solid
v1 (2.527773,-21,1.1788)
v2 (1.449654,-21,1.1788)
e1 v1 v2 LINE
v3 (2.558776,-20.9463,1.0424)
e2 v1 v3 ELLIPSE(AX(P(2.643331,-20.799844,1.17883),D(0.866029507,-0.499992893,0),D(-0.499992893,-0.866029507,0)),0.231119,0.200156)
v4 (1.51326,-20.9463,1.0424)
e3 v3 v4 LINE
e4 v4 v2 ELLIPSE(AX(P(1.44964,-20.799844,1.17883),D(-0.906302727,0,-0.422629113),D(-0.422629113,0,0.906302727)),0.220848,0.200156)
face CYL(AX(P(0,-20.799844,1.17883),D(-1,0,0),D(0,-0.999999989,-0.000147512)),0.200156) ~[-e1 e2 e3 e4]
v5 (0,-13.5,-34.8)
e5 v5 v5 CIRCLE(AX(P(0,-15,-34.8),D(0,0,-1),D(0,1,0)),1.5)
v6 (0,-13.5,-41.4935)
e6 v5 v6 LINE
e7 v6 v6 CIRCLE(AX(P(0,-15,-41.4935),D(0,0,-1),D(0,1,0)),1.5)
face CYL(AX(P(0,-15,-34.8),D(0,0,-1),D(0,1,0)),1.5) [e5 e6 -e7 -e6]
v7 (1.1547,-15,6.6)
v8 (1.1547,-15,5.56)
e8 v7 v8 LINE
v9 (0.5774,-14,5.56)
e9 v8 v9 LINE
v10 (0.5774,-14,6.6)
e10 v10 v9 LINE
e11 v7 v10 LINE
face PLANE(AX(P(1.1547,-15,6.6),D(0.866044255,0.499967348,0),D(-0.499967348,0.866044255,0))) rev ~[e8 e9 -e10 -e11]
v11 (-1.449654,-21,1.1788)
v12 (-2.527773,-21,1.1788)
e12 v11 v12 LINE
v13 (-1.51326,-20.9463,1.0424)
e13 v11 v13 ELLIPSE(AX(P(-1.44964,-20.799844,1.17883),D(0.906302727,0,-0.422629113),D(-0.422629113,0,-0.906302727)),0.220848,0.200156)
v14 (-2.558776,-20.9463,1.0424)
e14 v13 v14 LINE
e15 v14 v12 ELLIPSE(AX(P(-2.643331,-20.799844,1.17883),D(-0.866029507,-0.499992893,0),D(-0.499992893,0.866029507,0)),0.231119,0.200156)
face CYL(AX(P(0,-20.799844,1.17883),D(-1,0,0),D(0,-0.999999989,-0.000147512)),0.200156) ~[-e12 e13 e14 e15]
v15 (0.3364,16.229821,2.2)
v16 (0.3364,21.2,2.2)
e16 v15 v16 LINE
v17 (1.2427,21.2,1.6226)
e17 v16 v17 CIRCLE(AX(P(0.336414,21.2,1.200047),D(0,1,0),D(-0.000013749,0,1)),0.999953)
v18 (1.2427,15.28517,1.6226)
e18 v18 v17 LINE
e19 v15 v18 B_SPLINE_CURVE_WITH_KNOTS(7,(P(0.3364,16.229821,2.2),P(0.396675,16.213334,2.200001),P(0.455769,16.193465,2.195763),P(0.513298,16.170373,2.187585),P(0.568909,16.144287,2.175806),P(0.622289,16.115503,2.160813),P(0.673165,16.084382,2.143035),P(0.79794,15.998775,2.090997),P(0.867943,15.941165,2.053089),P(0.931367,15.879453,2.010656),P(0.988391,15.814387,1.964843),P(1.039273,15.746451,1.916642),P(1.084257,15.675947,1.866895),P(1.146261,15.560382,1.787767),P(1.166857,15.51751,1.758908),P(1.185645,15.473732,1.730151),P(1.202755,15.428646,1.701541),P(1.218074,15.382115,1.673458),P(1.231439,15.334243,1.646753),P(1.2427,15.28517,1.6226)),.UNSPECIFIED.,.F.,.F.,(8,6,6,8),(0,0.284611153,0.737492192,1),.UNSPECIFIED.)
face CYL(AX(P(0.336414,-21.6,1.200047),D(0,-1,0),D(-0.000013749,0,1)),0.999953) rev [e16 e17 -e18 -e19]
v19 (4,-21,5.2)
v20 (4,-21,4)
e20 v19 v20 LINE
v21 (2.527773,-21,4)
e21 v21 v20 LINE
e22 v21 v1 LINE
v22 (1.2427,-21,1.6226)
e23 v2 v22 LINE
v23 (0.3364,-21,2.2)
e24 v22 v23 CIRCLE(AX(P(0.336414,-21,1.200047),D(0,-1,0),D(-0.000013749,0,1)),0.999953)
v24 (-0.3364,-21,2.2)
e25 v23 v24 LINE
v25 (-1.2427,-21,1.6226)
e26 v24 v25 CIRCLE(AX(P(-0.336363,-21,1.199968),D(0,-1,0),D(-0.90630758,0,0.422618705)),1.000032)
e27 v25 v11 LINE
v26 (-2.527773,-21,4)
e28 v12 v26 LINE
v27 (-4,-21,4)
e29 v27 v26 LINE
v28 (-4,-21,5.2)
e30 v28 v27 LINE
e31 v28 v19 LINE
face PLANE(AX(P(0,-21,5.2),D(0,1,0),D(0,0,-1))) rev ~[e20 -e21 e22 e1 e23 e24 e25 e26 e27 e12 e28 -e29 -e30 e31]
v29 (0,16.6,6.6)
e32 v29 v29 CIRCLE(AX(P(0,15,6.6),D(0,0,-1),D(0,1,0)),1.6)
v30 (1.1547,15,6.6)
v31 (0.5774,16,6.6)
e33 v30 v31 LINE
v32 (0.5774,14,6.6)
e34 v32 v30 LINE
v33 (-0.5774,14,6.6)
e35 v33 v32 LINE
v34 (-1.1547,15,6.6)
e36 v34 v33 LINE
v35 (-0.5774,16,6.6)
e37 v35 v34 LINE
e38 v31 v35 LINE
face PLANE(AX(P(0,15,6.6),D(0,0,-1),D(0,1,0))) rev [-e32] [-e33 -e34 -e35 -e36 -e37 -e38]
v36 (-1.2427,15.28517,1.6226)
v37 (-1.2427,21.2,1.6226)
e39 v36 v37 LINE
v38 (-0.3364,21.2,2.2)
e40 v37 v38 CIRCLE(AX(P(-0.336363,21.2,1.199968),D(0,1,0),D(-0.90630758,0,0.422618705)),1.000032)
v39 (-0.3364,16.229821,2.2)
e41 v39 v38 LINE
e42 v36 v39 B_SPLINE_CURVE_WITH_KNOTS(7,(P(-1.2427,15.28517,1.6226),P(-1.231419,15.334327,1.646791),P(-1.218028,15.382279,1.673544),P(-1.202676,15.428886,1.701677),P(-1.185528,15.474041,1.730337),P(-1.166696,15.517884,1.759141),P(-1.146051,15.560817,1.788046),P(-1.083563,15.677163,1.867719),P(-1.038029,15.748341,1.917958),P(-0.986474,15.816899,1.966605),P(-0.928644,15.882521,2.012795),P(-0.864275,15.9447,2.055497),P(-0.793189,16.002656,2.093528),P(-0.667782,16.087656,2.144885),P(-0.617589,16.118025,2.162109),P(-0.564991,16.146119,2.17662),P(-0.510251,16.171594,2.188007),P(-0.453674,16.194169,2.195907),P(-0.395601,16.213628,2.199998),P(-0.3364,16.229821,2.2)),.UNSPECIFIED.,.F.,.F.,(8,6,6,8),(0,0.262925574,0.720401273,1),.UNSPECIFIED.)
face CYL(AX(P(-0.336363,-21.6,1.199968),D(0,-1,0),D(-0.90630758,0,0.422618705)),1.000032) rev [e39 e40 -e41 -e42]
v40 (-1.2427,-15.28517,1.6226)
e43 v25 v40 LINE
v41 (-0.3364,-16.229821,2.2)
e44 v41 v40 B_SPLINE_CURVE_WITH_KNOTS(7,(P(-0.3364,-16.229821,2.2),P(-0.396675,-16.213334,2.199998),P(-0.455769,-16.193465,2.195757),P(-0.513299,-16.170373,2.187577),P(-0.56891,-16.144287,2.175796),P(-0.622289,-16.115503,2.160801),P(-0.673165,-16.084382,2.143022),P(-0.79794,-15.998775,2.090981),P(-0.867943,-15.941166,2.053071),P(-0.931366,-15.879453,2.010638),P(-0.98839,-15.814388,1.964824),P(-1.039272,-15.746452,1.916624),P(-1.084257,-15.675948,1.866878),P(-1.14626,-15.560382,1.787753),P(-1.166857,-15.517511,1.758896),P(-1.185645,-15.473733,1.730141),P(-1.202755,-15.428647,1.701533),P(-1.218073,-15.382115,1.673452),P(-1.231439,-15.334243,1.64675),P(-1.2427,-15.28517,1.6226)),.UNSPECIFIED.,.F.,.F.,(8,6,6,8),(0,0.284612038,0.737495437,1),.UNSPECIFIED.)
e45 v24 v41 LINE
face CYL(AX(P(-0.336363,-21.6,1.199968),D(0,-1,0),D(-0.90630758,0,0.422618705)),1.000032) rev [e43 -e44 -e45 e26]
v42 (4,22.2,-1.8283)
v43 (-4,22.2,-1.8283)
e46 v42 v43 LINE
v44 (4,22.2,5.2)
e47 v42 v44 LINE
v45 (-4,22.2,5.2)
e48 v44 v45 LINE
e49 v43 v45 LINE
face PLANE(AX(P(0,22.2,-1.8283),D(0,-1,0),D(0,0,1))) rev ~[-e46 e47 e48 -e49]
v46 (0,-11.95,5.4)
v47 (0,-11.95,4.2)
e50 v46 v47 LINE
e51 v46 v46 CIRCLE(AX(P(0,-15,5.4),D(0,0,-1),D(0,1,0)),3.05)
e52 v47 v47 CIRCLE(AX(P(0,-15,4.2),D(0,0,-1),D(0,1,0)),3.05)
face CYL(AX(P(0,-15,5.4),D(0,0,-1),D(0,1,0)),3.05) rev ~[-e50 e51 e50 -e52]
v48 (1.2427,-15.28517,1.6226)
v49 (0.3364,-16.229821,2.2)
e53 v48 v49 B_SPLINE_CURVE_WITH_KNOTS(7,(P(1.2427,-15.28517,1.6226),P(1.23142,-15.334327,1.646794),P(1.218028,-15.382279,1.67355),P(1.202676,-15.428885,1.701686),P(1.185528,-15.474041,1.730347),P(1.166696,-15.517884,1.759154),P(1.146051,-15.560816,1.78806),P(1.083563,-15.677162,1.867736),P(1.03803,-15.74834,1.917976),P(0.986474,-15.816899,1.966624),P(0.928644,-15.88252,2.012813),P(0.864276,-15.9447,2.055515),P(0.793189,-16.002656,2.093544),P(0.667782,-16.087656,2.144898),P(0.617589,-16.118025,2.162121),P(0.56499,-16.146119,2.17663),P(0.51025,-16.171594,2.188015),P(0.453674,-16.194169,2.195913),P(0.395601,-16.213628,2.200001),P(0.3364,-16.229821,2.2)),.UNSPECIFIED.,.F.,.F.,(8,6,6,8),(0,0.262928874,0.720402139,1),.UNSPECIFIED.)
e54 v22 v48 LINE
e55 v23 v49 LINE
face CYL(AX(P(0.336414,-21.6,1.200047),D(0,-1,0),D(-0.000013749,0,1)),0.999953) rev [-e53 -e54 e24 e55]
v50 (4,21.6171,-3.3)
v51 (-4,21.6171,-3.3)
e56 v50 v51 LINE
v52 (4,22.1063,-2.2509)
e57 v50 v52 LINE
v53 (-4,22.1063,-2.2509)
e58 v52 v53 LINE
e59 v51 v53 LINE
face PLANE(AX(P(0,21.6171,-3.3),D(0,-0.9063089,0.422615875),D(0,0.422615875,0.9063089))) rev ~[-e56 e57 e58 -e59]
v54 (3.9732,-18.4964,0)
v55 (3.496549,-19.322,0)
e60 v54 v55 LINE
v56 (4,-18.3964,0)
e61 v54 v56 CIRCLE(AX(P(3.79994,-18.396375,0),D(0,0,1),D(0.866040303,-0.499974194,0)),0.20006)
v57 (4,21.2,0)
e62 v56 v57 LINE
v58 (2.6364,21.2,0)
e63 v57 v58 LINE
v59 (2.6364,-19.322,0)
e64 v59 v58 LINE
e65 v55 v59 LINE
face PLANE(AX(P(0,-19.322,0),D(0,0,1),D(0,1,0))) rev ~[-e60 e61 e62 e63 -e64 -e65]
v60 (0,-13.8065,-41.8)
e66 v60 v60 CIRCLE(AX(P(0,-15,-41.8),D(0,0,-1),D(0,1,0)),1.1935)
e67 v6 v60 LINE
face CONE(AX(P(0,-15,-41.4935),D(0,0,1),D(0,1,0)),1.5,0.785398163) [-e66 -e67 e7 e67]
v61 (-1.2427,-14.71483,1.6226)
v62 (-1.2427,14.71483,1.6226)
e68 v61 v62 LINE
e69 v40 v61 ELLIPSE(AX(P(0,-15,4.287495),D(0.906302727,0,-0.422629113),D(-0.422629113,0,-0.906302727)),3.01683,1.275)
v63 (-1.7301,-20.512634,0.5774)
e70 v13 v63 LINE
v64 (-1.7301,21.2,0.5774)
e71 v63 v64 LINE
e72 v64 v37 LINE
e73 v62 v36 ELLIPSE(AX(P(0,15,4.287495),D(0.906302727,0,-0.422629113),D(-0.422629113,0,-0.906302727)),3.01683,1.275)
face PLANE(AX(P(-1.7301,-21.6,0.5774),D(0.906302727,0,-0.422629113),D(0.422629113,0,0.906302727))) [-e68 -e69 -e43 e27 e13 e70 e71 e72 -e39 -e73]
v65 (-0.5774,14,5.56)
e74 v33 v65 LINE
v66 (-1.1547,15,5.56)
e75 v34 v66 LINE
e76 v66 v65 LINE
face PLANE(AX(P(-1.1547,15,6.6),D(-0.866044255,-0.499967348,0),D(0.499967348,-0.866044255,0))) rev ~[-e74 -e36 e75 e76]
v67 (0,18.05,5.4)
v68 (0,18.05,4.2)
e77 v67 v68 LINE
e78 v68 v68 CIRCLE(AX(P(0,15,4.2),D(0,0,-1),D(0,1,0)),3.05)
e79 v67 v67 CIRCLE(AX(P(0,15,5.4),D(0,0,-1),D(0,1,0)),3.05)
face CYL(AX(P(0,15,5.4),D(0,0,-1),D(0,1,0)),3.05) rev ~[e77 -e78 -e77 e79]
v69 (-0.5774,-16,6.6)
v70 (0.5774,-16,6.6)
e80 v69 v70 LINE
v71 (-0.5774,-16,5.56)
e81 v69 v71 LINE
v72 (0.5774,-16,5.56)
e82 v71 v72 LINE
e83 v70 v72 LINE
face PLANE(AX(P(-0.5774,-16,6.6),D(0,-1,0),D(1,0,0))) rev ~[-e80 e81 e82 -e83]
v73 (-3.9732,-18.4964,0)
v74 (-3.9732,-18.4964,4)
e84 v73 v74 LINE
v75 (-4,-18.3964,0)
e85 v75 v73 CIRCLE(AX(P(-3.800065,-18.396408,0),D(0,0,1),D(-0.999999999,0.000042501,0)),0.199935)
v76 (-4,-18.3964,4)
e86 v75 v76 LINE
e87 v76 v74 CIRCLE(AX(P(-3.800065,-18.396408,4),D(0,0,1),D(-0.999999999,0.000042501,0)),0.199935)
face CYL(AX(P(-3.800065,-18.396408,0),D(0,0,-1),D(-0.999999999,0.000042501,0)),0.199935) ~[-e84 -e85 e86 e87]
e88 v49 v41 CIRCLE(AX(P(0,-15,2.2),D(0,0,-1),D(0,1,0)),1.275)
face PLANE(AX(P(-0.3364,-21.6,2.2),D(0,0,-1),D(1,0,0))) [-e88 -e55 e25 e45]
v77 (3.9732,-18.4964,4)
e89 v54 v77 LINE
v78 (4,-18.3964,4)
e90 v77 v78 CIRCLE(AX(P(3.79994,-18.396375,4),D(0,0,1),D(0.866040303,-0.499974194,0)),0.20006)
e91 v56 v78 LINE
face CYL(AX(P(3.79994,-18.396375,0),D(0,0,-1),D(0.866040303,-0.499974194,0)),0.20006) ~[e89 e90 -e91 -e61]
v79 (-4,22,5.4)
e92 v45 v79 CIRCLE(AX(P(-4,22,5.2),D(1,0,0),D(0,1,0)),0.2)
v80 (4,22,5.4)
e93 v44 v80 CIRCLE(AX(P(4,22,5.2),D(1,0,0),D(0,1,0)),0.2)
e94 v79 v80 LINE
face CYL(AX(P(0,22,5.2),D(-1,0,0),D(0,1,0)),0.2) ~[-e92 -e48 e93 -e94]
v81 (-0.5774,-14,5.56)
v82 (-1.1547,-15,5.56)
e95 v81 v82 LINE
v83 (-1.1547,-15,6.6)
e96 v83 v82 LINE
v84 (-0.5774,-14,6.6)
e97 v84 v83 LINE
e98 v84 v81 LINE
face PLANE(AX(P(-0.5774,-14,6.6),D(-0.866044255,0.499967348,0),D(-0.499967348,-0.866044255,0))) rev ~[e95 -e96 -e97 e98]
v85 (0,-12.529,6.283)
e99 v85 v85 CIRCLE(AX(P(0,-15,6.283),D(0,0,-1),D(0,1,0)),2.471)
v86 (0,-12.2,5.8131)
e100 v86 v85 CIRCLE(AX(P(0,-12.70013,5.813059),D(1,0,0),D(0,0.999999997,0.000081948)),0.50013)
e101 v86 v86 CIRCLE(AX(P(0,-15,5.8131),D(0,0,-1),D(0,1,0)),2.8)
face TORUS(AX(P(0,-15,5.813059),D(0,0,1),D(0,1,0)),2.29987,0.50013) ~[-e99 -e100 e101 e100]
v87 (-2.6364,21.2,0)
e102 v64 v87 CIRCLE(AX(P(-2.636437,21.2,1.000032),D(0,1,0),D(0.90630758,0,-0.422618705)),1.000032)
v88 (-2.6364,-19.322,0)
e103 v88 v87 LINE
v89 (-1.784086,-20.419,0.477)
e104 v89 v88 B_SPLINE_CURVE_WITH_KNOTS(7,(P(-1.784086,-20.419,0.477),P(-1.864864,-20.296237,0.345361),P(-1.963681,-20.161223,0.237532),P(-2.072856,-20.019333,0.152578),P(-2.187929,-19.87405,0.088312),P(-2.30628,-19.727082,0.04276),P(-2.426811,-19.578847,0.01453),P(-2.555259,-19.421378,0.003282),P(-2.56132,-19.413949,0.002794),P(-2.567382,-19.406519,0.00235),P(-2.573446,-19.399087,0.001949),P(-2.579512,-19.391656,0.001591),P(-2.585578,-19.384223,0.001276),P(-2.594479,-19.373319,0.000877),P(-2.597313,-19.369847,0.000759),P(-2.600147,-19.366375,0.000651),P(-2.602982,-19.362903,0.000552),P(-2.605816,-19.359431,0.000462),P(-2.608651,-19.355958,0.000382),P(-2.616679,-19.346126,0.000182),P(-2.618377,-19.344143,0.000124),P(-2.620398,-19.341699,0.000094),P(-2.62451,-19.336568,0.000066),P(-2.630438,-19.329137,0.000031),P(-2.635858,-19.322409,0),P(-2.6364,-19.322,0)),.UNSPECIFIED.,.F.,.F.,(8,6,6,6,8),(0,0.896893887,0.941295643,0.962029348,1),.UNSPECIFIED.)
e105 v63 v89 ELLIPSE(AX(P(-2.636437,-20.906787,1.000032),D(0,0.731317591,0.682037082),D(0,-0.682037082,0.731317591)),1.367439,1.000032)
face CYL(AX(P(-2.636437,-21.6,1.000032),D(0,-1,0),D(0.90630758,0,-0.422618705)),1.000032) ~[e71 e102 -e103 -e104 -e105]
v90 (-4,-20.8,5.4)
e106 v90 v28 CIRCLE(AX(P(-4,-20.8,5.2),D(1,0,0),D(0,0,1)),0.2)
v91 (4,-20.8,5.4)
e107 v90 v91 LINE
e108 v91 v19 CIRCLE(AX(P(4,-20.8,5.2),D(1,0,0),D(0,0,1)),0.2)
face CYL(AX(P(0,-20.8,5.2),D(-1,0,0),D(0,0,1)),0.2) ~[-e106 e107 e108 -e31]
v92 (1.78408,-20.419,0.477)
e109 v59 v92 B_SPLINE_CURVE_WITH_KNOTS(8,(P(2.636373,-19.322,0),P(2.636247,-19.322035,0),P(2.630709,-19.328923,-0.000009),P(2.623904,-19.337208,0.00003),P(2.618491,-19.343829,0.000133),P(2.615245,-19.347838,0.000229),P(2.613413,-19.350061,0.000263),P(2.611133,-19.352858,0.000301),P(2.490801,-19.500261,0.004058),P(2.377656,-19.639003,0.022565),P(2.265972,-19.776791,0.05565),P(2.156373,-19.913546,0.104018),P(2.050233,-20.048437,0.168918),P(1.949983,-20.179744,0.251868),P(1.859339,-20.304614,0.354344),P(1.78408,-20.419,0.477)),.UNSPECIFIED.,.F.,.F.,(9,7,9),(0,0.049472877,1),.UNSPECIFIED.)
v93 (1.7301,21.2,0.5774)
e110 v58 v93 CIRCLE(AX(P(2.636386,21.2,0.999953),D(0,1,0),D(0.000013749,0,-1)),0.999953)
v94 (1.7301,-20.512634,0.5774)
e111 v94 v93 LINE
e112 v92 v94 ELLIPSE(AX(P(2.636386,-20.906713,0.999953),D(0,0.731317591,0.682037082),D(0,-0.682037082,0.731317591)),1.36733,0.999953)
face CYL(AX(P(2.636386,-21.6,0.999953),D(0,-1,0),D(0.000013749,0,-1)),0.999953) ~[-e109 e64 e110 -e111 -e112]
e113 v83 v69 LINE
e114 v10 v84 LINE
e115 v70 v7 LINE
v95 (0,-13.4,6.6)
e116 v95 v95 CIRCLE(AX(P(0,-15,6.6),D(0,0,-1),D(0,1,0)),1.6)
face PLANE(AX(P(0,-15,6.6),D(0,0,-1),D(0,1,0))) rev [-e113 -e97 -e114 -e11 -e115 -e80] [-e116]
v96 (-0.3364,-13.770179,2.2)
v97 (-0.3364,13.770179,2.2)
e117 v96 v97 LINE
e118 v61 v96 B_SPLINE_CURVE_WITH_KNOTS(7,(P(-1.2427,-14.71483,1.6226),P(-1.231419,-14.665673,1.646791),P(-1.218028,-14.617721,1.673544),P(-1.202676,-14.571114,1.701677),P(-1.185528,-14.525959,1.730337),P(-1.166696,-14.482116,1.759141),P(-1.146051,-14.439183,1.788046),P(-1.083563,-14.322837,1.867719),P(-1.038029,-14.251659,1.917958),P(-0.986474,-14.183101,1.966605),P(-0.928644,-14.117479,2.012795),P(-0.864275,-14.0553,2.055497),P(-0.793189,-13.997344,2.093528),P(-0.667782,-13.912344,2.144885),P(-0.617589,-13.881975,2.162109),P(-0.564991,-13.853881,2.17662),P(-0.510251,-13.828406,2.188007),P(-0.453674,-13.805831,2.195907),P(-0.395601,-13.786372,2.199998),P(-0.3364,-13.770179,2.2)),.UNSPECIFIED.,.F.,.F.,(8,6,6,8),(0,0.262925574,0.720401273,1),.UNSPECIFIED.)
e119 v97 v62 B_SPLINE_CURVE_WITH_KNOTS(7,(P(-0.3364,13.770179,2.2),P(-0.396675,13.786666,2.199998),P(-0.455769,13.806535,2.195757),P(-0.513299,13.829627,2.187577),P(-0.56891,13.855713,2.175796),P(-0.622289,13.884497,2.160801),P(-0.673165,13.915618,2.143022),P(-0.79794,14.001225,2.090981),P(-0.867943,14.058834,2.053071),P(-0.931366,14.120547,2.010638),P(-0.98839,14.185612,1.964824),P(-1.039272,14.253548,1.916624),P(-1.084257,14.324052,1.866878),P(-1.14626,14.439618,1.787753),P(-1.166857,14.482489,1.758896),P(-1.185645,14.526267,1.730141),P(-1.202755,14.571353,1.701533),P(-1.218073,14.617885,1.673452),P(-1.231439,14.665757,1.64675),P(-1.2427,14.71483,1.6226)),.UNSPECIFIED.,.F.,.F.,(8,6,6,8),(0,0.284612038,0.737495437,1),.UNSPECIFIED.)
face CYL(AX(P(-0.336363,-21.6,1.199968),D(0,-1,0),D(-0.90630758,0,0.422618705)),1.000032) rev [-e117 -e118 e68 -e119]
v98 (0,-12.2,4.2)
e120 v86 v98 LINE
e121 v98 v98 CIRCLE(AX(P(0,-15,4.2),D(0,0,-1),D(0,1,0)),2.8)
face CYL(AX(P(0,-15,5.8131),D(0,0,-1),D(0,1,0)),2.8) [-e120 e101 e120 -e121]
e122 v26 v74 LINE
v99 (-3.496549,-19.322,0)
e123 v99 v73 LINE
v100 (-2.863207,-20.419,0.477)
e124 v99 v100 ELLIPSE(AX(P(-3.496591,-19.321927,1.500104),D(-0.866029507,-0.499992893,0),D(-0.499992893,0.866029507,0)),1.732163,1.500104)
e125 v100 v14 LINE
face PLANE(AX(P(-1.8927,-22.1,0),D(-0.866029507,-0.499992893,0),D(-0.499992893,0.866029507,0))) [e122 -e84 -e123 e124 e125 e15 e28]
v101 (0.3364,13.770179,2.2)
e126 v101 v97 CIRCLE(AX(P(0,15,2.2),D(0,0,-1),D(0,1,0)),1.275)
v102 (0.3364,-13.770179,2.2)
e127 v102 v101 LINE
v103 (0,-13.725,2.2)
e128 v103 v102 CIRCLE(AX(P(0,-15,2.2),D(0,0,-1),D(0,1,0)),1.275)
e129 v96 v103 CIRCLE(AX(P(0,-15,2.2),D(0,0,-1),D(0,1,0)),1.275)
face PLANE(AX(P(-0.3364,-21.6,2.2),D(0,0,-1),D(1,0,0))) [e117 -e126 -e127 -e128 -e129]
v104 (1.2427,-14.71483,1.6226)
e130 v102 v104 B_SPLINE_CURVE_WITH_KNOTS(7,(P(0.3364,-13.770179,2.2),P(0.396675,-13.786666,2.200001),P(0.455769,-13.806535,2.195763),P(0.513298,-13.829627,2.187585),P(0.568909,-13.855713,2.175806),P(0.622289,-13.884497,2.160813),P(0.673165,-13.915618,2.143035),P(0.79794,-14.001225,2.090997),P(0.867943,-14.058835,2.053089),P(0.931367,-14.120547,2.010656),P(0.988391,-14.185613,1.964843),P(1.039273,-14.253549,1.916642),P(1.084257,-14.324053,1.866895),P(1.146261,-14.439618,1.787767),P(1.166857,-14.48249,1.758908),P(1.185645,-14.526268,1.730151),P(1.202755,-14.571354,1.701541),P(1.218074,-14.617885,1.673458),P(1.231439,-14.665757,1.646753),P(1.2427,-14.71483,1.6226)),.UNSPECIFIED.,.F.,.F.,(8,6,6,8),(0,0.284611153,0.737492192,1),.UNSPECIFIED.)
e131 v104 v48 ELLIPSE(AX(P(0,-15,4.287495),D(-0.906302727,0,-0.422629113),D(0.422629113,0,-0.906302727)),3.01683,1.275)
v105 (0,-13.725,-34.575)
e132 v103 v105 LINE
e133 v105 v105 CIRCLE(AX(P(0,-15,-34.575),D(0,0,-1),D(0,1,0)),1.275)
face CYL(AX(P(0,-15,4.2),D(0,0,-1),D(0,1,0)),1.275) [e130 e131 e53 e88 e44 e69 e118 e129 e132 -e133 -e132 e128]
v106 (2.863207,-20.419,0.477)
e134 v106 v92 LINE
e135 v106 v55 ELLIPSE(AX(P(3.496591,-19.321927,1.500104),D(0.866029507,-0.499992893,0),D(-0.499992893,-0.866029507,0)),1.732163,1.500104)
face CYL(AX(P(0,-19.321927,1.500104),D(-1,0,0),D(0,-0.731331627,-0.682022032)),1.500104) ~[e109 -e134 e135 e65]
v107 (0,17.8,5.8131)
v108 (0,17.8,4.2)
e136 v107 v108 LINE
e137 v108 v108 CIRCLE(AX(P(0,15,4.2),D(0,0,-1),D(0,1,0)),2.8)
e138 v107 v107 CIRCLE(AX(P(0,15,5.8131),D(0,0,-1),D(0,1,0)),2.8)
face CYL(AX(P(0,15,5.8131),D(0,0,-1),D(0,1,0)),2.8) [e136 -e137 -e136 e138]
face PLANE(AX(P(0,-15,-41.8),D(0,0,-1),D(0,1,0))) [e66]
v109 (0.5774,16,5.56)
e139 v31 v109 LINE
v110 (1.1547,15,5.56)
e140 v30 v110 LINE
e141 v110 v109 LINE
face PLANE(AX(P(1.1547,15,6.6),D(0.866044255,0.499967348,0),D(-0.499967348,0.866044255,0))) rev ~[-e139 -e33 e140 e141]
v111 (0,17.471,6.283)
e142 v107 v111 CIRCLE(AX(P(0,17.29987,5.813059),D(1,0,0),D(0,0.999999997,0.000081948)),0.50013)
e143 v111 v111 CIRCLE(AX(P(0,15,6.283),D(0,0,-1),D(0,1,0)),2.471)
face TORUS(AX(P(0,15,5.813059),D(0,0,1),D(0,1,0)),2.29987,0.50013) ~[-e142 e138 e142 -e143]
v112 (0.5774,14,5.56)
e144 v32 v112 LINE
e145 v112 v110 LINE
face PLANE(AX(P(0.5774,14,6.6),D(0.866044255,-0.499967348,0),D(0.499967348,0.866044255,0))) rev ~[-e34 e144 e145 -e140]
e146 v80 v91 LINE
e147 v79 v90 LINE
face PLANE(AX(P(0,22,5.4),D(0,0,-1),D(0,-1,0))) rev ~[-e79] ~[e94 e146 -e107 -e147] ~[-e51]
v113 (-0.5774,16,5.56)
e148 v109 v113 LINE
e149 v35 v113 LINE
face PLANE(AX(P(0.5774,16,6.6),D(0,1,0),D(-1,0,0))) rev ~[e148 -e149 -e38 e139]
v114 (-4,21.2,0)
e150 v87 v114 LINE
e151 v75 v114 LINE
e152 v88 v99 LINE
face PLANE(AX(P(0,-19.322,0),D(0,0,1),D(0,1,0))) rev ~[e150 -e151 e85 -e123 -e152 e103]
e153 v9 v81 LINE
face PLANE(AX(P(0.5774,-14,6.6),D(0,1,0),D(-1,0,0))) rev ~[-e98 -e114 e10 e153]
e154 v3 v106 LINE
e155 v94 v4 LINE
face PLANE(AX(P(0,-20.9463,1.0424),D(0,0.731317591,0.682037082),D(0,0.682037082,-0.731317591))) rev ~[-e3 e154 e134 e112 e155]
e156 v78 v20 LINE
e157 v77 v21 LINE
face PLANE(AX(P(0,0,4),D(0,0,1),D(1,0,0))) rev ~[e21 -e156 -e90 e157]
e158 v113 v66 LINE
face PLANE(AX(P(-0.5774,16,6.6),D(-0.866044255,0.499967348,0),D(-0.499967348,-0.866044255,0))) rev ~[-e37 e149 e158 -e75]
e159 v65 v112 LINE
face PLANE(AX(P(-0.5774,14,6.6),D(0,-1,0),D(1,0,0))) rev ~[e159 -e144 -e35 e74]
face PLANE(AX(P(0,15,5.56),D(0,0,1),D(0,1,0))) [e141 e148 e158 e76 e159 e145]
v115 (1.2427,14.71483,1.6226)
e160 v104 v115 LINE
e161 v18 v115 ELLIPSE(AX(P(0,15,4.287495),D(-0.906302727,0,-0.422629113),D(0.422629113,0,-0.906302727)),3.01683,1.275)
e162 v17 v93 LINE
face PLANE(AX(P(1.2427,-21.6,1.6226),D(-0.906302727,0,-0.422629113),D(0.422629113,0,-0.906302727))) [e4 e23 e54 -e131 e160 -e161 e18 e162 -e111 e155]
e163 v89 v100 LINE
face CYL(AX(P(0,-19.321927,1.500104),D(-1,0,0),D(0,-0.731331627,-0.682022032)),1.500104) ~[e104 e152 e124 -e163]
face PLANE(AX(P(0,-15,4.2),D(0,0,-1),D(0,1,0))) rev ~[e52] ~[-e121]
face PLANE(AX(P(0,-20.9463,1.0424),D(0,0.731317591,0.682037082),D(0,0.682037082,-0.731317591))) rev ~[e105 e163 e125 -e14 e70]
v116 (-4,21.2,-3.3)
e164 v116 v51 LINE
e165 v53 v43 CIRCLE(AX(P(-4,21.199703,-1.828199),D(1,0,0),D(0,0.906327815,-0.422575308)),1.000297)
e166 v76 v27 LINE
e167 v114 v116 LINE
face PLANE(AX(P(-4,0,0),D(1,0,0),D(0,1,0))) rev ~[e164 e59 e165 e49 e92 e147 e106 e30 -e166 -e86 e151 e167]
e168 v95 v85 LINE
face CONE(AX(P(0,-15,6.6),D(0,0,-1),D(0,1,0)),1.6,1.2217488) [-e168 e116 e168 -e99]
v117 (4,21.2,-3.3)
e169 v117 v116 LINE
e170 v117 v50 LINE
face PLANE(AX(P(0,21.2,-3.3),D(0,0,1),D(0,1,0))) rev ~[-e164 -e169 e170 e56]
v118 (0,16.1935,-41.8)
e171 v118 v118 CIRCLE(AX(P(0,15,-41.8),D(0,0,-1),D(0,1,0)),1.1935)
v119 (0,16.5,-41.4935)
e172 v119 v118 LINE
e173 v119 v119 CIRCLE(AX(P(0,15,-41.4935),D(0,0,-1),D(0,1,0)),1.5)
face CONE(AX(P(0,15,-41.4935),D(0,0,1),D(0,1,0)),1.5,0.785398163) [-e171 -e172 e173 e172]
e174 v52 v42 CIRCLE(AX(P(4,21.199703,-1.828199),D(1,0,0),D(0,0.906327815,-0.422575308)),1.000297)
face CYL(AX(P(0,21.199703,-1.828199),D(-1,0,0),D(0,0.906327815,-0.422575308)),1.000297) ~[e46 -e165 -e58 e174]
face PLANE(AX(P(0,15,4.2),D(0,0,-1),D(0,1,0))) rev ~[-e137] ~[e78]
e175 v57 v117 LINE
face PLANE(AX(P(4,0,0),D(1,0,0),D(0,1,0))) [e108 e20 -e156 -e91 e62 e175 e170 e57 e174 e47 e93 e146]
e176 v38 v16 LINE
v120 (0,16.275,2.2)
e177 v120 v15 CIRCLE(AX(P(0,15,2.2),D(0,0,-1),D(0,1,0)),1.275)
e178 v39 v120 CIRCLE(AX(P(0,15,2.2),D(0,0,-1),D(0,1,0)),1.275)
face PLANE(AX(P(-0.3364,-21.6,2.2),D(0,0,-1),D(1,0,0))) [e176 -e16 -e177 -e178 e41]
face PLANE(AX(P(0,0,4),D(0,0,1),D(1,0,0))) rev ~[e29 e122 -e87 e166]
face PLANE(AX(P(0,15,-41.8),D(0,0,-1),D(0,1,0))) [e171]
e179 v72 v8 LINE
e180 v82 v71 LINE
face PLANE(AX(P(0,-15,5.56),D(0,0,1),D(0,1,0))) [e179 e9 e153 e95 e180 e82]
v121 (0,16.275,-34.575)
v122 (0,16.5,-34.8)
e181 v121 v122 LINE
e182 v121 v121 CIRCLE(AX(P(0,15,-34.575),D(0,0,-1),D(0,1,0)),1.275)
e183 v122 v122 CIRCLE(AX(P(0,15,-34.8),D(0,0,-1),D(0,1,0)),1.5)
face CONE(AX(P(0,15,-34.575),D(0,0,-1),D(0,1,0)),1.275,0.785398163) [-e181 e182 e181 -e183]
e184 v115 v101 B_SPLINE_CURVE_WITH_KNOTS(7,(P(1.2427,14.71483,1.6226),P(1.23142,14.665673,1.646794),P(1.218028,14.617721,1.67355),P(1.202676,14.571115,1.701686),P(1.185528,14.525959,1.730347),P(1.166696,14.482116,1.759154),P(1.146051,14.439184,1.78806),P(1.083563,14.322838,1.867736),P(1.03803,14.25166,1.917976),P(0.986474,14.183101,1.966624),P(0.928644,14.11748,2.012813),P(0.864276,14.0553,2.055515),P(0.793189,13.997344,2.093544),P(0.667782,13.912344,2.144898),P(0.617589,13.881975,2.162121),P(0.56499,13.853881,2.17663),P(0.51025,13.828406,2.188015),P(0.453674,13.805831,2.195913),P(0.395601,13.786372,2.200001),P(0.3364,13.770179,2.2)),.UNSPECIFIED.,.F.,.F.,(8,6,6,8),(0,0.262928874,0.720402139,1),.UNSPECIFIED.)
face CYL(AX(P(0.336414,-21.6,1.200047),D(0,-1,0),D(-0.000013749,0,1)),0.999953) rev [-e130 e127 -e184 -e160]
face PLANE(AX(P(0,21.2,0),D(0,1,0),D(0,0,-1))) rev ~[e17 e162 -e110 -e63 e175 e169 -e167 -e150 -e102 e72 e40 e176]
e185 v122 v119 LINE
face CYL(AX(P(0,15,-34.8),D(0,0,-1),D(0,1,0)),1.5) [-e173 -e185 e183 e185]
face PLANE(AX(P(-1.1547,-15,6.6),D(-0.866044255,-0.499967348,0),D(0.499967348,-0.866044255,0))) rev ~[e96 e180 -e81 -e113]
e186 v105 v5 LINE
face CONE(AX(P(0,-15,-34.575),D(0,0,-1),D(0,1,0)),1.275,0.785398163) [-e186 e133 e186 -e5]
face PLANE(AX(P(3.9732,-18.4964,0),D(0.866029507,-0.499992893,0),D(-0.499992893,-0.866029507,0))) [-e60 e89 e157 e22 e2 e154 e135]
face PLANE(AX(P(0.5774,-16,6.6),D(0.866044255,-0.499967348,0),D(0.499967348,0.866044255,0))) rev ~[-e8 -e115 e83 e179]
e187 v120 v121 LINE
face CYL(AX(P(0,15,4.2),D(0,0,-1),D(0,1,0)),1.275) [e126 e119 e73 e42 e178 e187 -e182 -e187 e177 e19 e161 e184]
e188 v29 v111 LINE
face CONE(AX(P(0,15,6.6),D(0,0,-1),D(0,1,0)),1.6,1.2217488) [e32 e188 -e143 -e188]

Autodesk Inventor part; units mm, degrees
sketch "Sketch_1" plane through (0, 0, 0) normal (1, 0, 0) x (0, 1, 0)
  line L0 (22, 5.4) -> (-20.8, 5.4)
  arc A0 (-20.8, 5.4) -> (-21, 5.2) centre (-20.8, 5.2) ccw
  line L1 (-21, 5.2) -> (-21, 1.1788)
  arc A1 (-21, 1.1788) -> (-20.9463, 1.0424) centre (-20.8, 1.1788) ccw
  line L2 (-20.9463, 1.0424) -> (-20.419, 0.477)
  arc A2 (-20.419, 0.477) -> (-19.322, 0) centre (-19.322, 1.5) ccw
  line L3 (-19.322, 0) -> (21.2, 0)
  line L4 (21.2, 0) -> (21.2, -3.3)
  line L5 (21.2, -3.3) -> (21.6171, -3.3)
  line L6 (21.6171, -3.3) -> (22.1063, -2.2509)
  arc A3 (22.1063, -2.2509) -> (22.2, -1.8283) centre (21.2, -1.8283) ccw
  line L7 (22.2, -1.8283) -> (22.2, 5.2)
  arc A4 (22.2, 5.2) -> (22, 5.4) centre (22, 5.2) ccw
extrude "Extrusion1" add sketch "Sketch_1" along normal mid plane 8
sketch "Sketch_2" plane through (0, 0, 0) normal (1, 0, 0) x (0, 1, 0)
  line L0 (15, 4.2) -> (15, 5.4)
  line L1 (15, 5.4) -> (18.05, 5.4)
  line L2 (18.05, 5.4) -> (18.05, 4.2)
  line L3 (18.05, 4.2) -> (15, 4.2)
  line L4 (15, 4.2) -> (15, 5.4)
revolve "Revolution1" cut sketch "Sketch_2" angle 360 about axis through (0, 15, 4.2) along (0, 0, -1)
sketch "Sketch_3" plane through (0, 0, 0) normal (1, 0, 0) x (0, 1, 0)
  line L0 (-15, 4.2) -> (-15, 5.4)
  line L1 (-15, 5.4) -> (-11.95, 5.4)
  line L2 (-11.95, 5.4) -> (-11.95, 4.2)
  line L3 (-11.95, 4.2) -> (-15, 4.2)
  line L4 (-15, 4.2) -> (-15, 5.4)
revolve "Revolution2" cut sketch "Sketch_3" angle 360 about axis through (0, -15, 4.2) along (0, 0, -1)
sketch "Sketch_6" plane through (0, -21.6, 0) normal (0, 1, 0) x (1, 0, 0)
  arc A0 (-1.7301, -0.5774) -> (-2.6364, 0) centre (-2.6364, -1) ccw
  line L0 (-1.7301, -0.5774) -> (-1.2427, -1.6226)
  arc A1 (-1.2427, -1.6226) -> (-0.3364, -2.2) centre (-0.3364, -1.2) ccw
  line L1 (-0.3364, -2.2) -> (0.3364, -2.2)
  arc A2 (0.3364, -2.2) -> (1.2427, -1.6226) centre (0.3364, -1.2) ccw
  line L2 (1.2427, -1.6226) -> (1.7301, -0.5774)
  arc A3 (2.6364, 0) -> (1.7301, -0.5774) centre (2.6364, -1) ccw
  line L3 (2.6364, 0) -> (-2.6364, 0)
extrude "Extrusion2" cut sketch "Sketch_6" along normal blind 42.8
sketch "Sketch_4" plane through (0, 0, 0) normal (1, 0, 0) x (0, 1, 0)
  line L0 (15, -41.8) -> (15, 6.6)
  line L1 (15, 6.6) -> (16.6, 6.6)
  line L2 (16.6, 6.6) -> (17.471, 6.283)
  arc A0 (17.8, 5.8131) -> (17.471, 6.283) centre (17.3, 5.8131) ccw
  line L3 (17.8, 5.8131) -> (17.8, 4.2)
  line L4 (17.8, 4.2) -> (16.275, 4.2)
  line L5 (16.275, 4.2) -> (16.275, -34.575)
  line L6 (16.275, -34.575) -> (16.5, -34.8)
  line L7 (16.5, -34.8) -> (16.5, -41.4935)
  line L8 (16.5, -41.4935) -> (16.1935, -41.8)
  line L9 (16.1935, -41.8) -> (15, -41.8)
  line L10 (15, -41.8) -> (15, 6.6)
revolve "Revolution3" add sketch "Sketch_4" angle 360 about axis through (0, 15, -41.8) along (0, 0, -1)
thread "Thread1" size "M3x0.5" class "6g" standard "ISO Metric profile" full length
sketch "Sketch_5" plane through (0, 0, 0) normal (1, 0, 0) x (0, 1, 0)
  line L0 (-15, -41.8) -> (-15, 6.6)
  line L1 (-15, 6.6) -> (-13.4, 6.6)
  line L2 (-13.4, 6.6) -> (-12.529, 6.283)
  arc A0 (-12.2, 5.8131) -> (-12.529, 6.283) centre (-12.7, 5.8131) ccw
  line L3 (-12.2, 5.8131) -> (-12.2, 4.2)
  line L4 (-12.2, 4.2) -> (-13.725, 4.2)
  line L5 (-13.725, 4.2) -> (-13.725, -34.575)
  line L6 (-13.725, -34.575) -> (-13.5, -34.8)
  line L7 (-13.5, -34.8) -> (-13.5, -41.4935)
  line L8 (-13.5, -41.4935) -> (-13.8065, -41.8)
  line L9 (-13.8065, -41.8) -> (-15, -41.8)
  line L10 (-15, -41.8) -> (-15, 6.6)
revolve "Revolution4" add sketch "Sketch_5" angle 360 about axis through (0, -15, -41.8) along (0, 0, -1)
thread "Thread2" size "M3x0.5" class "6g" standard "ISO Metric profile" full length
sketch "Sketch_7" plane through (0, 15, 6.6) normal (0, 0, 1) x (0, 1, 0)
  line L0 (-1, -0.5774) -> (0, -1.1547)
  line L1 (0, -1.1547) -> (1, -0.5774)
  line L2 (1, -0.5774) -> (1, 0.5774)
  line L3 (1, 0.5774) -> (0, 1.1547)
  line L4 (0, 1.1547) -> (-1, 0.5774)
  line L5 (-1, 0.5774) -> (-1, -0.5774)
extrude "Extrusion3" cut sketch "Sketch_7" against normal blind 1.04
sketch "Sketch_8" plane through (0, -15, 6.6) normal (0, 0, 1) x (0, 1, 0)
  line L0 (-1, -0.5774) -> (0, -1.1547)
  line L1 (0, -1.1547) -> (1, -0.5774)
  line L2 (1, -0.5774) -> (1, 0.5774)
  line L3 (1, 0.5774) -> (0, 1.1547)
  line L4 (0, 1.1547) -> (-1, 0.5774)
  line L5 (-1, 0.5774) -> (-1, -0.5774)
extrude "Extrusion4" cut sketch "Sketch_8" against normal blind 1.04
sketch "Sketch_9" plane through (0, 0, 0) normal (0, 0, 1) x (1, 0, 0)
  line L0 (-5, -18.3964) -> (-5, -23.2)
  line L1 (-5, -23.2) -> (5, -23.2)
  line L2 (5, -23.2) -> (5, -18.3964)
  line L3 (5, -18.3964) -> (4, -18.3964)
  arc A0 (3.9732, -18.4964) -> (4, -18.3964) centre (3.8, -18.3964) ccw
  line L4 (3.9732, -18.4964) -> (1.8927, -22.1)
  arc A1 (1.7195, -22.2) -> (1.8927, -22.1) centre (1.7195, -22) ccw
  line L5 (1.7195, -22.2) -> (-1.7195, -22.2)
  arc A2 (-1.8927, -22.1) -> (-1.7195, -22.2) centre (-1.7195, -22) ccw
  line L6 (-1.8927, -22.1) -> (-3.9732, -18.4964)
  arc A3 (-4, -18.3964) -> (-3.9732, -18.4964) centre (-3.8, -18.3964) ccw
  line L7 (-4, -18.3964) -> (-5, -18.3964)
extrude "Extrusion5" cut sketch "Sketch_9" along normal blind 4
ref_plane "ANBAU_XY" through (0, 0, -15.2) normal (0, -1, 0) x (1, 0, 0)
ref_plane "ANBAU_YZ" through (0, 0, -15.2) normal (1, 0, 0) x (0, 0, 1)
ref_plane "ANBAU_ZX" through (0, 0, -15.2) normal (0, 0, 1) x (0, -1, 0)
ref_plane "ANBAU_2_XY" through (0, 0, -15.2) normal (1, 0, 0) x (0, 0, -1)
ref_plane "ANBAU_2_YZ" through (0, 0, -15.2) normal (0, 0, -1) x (0, 1, 0)
ref_plane "ANBAU_2_ZX" through (0, 0, -15.2) normal (0, 1, 0) x (1, 0, 0)
ref_plane "IP_ANBAU_XY" through (0, 0, 0) normal (0, 0, -1) x (1, 0, 0)
ref_plane "IP_ANBAU_YZ" through (0, 0, 0) normal (1, 0, 0) x (0, -1, 0)
ref_plane "IP_ANBAU_ZX" through (0, 0, 0) normal (0, -1, 0) x (0, 0, -1)
ref_plane "IP_ANBAU_2_XY" through (0, 0, -15.2) normal (1, 0, 0) x (0, 0, -1)
ref_plane "IP_ANBAU_2_YZ" through (0, 0, -15.2) normal (0, 0, -1) x (0, 1, 0)
ref_plane "IP_ANBAU_2_ZX" through (0, 0, -15.2) normal (0, 1, 0) x (1, 0, 0)
properties part number "8092760 MS4-MV-B---(46_high_m)"
